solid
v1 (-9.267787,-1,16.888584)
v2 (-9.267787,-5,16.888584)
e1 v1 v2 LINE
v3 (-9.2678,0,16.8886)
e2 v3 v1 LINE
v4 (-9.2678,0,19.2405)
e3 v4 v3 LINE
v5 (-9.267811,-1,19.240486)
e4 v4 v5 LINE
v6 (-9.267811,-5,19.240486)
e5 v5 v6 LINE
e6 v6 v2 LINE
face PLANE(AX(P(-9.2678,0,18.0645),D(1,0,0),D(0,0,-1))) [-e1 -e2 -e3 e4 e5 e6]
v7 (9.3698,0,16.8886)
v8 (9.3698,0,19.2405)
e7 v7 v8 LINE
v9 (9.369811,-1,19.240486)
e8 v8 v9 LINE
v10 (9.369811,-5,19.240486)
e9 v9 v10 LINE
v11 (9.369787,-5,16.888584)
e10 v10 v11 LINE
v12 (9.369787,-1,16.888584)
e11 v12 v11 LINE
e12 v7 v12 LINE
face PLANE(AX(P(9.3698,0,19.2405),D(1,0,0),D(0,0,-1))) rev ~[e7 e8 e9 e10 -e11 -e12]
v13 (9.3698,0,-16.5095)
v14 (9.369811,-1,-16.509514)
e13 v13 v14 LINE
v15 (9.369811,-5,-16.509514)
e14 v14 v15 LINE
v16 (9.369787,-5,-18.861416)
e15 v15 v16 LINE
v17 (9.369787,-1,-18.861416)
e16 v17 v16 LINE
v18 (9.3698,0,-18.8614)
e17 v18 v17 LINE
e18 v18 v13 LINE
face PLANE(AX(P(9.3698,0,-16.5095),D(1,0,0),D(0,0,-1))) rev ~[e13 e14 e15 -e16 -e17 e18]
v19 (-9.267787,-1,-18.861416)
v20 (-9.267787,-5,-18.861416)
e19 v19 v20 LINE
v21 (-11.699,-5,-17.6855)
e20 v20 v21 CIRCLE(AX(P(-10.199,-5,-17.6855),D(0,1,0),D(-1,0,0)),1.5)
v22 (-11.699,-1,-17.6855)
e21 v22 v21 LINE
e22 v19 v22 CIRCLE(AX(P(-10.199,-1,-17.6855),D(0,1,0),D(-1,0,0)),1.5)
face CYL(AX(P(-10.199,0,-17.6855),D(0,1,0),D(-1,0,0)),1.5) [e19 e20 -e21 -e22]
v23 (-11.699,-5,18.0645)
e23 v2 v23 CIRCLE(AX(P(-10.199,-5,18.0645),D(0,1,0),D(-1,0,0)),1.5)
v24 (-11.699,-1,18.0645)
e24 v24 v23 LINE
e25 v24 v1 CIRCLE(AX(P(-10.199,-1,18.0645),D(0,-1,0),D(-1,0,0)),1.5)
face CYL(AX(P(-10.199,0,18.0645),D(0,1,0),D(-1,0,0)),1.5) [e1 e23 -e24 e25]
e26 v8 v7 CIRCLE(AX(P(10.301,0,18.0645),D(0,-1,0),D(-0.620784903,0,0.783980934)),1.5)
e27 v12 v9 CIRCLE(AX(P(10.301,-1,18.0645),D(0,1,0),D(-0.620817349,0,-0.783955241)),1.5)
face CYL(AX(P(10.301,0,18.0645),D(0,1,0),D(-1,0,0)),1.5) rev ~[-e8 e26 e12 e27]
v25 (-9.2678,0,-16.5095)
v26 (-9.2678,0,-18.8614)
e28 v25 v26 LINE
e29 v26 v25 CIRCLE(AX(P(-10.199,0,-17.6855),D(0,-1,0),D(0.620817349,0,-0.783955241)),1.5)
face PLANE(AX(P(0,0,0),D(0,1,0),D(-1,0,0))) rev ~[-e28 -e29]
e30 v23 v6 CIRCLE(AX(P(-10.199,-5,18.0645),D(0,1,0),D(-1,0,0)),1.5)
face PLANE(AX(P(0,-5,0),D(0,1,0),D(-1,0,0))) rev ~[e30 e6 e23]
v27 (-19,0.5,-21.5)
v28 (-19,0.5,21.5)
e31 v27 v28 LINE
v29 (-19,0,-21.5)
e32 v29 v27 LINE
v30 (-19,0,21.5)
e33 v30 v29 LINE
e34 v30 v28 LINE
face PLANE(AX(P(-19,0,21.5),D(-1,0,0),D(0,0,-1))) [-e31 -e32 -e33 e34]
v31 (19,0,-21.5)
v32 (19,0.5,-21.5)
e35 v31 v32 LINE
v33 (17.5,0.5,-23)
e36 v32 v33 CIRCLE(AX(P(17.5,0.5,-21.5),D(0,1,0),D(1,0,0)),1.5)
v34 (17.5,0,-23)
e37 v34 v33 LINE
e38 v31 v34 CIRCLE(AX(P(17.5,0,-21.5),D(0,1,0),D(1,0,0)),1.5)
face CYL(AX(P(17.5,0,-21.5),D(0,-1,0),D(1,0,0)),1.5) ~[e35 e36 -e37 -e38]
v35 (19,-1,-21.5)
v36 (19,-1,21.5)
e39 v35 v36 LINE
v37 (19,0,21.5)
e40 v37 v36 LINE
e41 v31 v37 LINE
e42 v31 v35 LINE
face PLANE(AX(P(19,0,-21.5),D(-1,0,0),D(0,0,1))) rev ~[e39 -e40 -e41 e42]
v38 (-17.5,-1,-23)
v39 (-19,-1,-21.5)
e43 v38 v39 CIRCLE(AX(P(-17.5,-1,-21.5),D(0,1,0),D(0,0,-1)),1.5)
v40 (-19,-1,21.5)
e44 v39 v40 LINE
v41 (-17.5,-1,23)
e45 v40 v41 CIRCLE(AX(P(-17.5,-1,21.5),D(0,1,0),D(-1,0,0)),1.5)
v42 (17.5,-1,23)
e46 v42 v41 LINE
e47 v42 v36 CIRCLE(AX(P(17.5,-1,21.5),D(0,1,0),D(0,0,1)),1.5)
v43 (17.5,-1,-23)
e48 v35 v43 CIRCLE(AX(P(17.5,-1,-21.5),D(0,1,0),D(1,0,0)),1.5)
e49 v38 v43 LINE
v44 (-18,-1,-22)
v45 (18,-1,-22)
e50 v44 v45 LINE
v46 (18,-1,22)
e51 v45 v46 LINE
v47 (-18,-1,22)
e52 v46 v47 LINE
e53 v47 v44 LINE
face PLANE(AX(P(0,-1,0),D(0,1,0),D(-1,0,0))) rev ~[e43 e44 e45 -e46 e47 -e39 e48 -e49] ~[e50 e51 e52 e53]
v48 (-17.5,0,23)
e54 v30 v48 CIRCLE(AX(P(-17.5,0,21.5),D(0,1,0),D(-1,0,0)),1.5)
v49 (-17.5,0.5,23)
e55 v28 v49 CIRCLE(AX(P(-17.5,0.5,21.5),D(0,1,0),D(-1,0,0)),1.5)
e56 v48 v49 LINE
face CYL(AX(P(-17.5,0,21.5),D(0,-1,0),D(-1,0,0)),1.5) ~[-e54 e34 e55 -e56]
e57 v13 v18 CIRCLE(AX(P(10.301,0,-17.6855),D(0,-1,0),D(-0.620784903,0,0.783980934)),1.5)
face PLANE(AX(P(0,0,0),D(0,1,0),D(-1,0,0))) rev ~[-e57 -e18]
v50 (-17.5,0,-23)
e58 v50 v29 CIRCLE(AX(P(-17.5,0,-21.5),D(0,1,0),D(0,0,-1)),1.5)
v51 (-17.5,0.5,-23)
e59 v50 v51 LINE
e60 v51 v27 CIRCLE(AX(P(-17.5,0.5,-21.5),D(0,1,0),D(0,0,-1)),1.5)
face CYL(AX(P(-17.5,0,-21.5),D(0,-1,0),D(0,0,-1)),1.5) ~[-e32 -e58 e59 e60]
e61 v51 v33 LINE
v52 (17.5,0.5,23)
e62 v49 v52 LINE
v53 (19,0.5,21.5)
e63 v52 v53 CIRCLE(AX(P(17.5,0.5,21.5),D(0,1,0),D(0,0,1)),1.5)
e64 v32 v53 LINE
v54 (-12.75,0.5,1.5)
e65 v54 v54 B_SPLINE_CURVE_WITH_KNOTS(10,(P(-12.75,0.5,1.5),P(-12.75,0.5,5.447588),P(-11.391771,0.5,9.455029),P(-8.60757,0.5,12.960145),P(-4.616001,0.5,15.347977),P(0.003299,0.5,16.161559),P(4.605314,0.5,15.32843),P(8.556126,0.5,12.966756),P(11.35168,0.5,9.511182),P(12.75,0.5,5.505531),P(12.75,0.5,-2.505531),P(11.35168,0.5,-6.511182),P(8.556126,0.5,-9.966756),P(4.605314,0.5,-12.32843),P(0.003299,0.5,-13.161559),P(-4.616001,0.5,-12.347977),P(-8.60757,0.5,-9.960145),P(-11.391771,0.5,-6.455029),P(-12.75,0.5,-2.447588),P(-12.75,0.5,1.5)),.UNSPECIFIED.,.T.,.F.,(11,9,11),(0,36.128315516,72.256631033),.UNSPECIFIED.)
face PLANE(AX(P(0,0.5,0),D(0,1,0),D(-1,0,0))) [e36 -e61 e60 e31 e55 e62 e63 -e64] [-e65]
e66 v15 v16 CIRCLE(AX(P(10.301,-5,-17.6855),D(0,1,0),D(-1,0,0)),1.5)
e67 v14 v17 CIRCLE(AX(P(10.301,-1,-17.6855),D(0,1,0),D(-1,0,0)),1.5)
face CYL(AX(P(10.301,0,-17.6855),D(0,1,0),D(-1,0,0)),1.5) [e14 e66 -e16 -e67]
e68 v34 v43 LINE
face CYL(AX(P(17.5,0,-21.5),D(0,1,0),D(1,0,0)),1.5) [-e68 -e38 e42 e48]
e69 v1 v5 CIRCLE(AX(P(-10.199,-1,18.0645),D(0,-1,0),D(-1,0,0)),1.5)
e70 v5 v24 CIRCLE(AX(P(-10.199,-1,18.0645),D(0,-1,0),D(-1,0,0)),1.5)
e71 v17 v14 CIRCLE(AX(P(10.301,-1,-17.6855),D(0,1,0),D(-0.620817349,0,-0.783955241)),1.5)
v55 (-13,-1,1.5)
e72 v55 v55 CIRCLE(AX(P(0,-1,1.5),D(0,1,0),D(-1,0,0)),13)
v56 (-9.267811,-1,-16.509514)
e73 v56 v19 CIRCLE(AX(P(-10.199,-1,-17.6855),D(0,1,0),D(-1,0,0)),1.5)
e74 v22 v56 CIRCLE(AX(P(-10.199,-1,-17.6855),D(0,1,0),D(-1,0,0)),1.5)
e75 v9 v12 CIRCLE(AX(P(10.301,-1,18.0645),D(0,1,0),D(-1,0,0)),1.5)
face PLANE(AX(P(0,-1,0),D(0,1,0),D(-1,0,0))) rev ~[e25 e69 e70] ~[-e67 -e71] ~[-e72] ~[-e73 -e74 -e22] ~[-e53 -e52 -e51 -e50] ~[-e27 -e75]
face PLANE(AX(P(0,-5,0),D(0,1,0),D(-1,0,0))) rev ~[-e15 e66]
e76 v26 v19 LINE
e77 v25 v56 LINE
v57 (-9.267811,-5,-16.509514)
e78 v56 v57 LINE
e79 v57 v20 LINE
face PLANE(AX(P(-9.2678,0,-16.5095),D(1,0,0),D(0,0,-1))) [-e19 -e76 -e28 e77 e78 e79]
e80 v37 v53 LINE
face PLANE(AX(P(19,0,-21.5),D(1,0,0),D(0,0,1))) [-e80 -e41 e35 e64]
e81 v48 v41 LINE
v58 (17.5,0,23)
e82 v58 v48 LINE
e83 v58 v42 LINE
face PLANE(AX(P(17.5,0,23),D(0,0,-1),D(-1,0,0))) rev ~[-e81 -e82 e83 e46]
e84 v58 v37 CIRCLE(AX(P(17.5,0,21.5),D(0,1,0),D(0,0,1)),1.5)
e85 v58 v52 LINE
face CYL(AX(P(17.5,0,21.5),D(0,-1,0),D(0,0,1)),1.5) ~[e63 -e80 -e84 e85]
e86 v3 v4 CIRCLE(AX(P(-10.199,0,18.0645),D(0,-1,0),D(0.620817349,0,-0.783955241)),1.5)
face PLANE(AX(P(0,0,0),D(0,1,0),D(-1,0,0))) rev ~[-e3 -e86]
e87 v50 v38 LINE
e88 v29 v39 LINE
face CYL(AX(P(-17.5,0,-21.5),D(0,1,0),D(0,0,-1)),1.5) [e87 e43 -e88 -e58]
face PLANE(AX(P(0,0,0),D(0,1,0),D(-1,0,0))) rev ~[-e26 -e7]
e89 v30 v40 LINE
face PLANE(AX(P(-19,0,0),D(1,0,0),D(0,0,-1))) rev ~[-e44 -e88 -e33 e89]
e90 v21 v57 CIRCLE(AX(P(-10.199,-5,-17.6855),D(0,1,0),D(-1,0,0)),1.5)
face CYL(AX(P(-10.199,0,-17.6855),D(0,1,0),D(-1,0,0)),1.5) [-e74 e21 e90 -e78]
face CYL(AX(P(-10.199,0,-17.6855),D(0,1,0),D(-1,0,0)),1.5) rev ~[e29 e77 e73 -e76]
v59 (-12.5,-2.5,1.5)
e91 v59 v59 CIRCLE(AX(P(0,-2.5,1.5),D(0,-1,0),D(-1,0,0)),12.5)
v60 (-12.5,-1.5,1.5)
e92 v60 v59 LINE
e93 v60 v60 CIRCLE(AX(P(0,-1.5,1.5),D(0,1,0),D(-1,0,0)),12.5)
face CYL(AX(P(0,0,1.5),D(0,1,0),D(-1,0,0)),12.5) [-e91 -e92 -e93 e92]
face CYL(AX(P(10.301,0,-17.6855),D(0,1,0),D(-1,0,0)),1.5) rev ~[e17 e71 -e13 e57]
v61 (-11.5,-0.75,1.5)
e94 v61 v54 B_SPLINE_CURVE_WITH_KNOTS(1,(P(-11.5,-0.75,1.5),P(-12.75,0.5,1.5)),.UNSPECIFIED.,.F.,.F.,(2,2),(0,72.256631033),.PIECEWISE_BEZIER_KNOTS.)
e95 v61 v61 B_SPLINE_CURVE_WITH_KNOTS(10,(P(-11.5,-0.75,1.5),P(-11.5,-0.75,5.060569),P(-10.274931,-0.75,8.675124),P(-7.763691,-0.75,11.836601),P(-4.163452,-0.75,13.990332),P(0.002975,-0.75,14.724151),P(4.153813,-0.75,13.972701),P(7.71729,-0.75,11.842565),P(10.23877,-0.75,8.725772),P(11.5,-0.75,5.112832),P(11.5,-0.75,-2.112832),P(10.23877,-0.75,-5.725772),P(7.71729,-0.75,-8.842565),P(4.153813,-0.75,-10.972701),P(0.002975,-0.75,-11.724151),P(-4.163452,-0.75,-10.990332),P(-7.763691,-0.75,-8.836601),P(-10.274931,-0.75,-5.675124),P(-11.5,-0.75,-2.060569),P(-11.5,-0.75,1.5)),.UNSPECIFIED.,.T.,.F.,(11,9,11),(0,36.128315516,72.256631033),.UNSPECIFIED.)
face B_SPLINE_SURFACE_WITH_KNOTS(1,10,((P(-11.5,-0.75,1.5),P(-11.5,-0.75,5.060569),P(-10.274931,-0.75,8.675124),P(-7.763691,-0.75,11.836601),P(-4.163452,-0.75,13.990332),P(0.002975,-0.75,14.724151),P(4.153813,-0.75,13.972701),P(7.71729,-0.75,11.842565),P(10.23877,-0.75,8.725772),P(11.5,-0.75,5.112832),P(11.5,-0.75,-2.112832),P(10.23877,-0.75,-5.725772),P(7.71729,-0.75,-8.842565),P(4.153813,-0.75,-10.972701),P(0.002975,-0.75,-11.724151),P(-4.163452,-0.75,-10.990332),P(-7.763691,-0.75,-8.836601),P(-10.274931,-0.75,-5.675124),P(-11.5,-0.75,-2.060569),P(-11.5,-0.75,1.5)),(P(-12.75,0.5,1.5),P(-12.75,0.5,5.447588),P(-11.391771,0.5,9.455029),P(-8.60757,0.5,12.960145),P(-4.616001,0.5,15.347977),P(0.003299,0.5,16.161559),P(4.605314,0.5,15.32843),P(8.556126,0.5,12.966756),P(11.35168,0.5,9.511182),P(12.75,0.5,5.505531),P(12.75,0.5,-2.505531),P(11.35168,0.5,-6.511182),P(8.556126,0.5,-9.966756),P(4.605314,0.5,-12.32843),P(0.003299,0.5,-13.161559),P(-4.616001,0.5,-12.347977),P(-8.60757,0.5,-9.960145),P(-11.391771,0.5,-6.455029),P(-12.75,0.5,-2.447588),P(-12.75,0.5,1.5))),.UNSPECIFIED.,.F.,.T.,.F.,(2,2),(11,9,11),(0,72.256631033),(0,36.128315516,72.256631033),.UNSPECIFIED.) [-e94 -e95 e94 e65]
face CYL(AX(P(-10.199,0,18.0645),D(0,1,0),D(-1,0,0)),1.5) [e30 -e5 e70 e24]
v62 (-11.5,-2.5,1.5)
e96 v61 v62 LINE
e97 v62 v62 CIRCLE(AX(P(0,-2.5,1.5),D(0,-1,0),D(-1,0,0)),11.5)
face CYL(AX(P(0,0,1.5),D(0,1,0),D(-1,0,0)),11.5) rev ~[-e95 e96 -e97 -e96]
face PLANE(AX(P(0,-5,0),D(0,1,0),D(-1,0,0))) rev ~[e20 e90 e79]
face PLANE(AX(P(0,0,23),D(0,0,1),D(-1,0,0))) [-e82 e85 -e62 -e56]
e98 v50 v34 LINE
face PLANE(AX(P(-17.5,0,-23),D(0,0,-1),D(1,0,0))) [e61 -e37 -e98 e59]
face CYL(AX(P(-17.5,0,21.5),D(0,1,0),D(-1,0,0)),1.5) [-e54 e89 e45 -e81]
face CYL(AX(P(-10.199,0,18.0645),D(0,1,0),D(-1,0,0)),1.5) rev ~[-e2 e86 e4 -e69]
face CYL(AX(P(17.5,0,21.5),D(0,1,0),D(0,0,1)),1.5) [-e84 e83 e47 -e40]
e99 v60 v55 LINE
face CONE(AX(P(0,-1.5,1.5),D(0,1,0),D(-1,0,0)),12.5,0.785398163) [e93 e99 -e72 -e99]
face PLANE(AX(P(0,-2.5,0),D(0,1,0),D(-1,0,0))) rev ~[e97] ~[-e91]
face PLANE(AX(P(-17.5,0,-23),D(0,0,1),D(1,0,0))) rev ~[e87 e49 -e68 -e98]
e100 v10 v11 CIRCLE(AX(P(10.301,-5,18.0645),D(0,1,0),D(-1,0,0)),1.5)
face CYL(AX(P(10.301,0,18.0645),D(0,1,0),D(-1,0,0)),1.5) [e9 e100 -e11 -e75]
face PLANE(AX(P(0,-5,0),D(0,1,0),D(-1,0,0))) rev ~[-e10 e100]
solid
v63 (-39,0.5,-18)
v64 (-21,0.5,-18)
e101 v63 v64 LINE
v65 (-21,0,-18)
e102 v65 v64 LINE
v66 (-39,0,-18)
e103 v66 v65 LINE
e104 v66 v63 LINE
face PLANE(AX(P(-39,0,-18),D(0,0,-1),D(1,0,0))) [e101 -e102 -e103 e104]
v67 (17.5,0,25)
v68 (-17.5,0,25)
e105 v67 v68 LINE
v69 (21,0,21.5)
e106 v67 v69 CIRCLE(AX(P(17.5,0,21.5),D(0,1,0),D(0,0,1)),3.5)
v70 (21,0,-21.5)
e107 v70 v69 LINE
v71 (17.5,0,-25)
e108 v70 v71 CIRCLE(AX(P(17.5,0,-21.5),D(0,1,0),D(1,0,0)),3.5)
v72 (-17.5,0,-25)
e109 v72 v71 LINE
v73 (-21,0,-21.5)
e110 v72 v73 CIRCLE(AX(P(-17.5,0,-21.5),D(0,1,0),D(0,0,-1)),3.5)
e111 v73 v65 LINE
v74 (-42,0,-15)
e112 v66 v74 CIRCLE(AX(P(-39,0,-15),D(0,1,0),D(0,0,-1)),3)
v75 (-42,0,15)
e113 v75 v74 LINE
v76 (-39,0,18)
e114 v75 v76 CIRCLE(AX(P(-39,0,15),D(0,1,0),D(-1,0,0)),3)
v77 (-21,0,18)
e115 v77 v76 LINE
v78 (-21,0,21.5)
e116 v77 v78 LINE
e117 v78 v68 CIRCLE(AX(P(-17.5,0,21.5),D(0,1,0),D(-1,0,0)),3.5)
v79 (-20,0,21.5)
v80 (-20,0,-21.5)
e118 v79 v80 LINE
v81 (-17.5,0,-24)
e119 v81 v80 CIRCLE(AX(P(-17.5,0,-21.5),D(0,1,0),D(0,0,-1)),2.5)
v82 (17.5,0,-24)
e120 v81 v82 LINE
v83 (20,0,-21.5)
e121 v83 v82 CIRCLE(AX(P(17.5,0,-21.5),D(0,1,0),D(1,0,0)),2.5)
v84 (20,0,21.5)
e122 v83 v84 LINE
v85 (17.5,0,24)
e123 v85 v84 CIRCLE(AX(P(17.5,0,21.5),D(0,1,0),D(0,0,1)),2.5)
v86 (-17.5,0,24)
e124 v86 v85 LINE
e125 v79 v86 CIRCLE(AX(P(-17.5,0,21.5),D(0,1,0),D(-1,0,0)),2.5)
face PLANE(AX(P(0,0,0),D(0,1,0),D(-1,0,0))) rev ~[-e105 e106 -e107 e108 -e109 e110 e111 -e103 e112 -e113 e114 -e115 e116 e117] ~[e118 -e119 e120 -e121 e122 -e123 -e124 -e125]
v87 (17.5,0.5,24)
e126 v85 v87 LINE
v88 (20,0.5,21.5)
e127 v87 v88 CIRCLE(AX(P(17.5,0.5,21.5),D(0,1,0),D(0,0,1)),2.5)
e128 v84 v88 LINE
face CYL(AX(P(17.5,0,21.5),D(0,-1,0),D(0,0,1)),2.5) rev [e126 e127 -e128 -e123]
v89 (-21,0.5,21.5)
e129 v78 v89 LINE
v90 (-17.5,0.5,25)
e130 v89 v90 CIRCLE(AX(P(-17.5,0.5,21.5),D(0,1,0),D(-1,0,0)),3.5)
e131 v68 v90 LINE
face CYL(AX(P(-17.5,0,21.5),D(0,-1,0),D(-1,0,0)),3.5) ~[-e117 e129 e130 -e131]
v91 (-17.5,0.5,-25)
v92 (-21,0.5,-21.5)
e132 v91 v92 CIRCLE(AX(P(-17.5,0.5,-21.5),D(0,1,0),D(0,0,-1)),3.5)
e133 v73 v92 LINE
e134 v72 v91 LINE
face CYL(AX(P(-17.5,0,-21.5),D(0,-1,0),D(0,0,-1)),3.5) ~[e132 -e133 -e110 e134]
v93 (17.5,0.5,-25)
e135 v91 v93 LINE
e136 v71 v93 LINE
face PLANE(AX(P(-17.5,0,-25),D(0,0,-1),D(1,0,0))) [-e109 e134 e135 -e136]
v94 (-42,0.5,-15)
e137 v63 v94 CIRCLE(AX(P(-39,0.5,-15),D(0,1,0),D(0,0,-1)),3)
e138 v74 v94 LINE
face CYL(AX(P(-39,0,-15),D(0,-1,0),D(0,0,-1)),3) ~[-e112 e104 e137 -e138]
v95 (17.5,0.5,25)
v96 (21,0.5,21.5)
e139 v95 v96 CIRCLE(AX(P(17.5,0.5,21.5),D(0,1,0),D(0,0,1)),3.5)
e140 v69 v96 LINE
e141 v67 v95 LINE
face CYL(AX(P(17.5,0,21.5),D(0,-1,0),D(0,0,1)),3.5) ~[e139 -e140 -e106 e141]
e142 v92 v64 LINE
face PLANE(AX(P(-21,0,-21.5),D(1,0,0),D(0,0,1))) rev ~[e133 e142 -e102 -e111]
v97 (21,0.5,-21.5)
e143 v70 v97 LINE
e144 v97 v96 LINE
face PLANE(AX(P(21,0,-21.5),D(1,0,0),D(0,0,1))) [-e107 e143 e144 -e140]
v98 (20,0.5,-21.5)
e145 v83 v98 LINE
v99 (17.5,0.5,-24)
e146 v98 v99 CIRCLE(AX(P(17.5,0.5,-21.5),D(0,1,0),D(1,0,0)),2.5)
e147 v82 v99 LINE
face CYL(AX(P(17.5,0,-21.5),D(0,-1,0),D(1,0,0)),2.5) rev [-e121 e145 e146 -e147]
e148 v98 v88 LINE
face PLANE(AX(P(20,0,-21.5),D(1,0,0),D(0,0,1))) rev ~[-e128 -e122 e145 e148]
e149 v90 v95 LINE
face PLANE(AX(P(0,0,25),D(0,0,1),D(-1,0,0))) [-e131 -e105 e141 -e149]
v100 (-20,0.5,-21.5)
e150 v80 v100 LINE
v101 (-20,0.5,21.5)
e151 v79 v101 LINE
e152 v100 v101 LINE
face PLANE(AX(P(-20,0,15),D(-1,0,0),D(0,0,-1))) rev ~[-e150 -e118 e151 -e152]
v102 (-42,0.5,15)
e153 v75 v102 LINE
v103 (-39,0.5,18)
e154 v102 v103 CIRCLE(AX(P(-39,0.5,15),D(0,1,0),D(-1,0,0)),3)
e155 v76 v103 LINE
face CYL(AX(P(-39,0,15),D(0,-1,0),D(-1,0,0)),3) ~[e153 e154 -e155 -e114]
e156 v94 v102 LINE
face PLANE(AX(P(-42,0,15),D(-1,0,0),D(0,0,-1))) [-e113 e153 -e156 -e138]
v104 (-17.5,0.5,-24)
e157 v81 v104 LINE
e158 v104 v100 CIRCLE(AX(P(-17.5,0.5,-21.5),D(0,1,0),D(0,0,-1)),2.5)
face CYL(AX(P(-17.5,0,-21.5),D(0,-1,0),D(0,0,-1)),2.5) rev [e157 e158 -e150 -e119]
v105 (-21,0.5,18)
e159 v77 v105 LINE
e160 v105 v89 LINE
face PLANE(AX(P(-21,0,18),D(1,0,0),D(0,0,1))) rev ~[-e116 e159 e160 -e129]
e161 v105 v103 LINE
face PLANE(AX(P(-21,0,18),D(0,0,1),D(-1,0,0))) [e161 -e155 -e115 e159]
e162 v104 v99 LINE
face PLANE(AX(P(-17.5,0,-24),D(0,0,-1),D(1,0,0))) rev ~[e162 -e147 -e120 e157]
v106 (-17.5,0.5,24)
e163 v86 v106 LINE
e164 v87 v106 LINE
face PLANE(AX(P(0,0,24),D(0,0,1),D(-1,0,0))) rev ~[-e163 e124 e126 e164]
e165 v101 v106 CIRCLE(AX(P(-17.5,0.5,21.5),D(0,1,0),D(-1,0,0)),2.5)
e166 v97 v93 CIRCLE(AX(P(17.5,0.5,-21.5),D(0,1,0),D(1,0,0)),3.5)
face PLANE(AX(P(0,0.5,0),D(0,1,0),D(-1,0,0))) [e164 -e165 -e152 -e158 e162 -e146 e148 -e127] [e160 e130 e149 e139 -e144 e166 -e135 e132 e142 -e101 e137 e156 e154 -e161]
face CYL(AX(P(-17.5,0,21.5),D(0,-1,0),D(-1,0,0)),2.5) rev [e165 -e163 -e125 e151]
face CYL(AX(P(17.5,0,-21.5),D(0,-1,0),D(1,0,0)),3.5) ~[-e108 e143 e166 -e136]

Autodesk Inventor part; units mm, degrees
ref_plane "YZ Plane" through (0, 0, 0) normal (1, 0, 0) x (0, 1, 0)
ref_plane "XZ Plane" through (0, 0, 0) normal (0, 1, 0) x (-1, 0, 0)
ref_plane "XY Plane" through (0, 0, 0) normal (0, 0, 1) x (1, 0, 0)
sketch "Sketch1" plane through (0, 0, 0) normal (0, 1, 0) x (-1, 0, 0)
  circle A0 centre (0, 1.5) radius 11.5
  circle A1 centre (0, 1.5) radius 12.5
  line L0 (19.0144, -21.3297) -> (-18.8688, -21.3297) construction
  line L1 (-18.8688, -21.3297) -> (-18.8688, 21.6448) construction
  line L2 (-18.8688, 21.6448) -> (19.0144, 21.6448) construction
  line L3 (19.0144, 21.6448) -> (19.0144, -21.3297) construction
  line L4 (-2.25, -4) -> (-2.25, -8.7)
  line L5 (-2.25, -8.7) -> (2.25, -8.7)
  line L6 (2.25, -8.7) -> (2.25, -4)
  line L7 (2.25, -4) -> (-2.25, -4)
  line L8 (5.9381, 2.2148) -> (9.8353, 4.4648)
  line L9 (9.8353, 4.4648) -> (7.4853, 8.5352)
  line L10 (7.4853, 8.5352) -> (3.5881, 6.2852)
  line L11 (5.9381, 2.2148) -> (3.5881, 6.2852)
  line L12 (-3.5881, 6.2852) -> (-7.4853, 8.5352)
  line L13 (-7.4853, 8.5352) -> (-9.8353, 4.4648)
  line L14 (-9.8353, 4.4648) -> (-5.9381, 2.2148)
  line L15 (-3.5881, 6.2852) -> (-5.9381, 2.2148)
  circle A2 centre (10.199, -17.6855) radius 1.5
  circle A3 centre (-10.301, 18.0645) radius 1.5
  circle A4 centre (10.199, 18.0645) radius 1.5
  circle A5 centre (-10.301, -17.6855) radius 1.5
  line L16 (10.199, -17.6855) -> (-10.301, -17.6855)
  line L17 (-10.301, -17.6855) -> (-10.301, 18.0645)
  line L18 (-10.301, 18.0645) -> (10.199, 18.0645)
  line L19 (10.199, 18.0645) -> (10.199, -17.6855)
  line L20 (18, -22) -> (-18, -22)
  line L21 (-18, -22) -> (-18, 22)
  line L22 (-18, 22) -> (18, 22)
  line L23 (18, 22) -> (18, -22)
  line L24 (18, -22) -> (-18, 22) construction
  line L25 (-18, -22) -> (18, 22) construction
  line L26 (0, 0) -> (20.5, 0)
  line L27 (0, 0) -> (0, 25)
  line L28 (17.5, -25) -> (-17.5, -25)
  line L29 (-21, -21.5) -> (-21, 21.5)
  line L30 (-17.5, 25) -> (17.5, 25)
  line L31 (21, -25) -> (-21, 25) construction
  line L32 (-21, -25) -> (21, 25) construction
  arc A6 (-17.5, 25) -> (-21, 21.5) centre (-17.5, 21.5) ccw
  arc A7 (-21, -21.5) -> (-17.5, -25) centre (-17.5, -21.5) ccw
  line L33 (17.5, -23) -> (-17.5, -23)
  line L34 (-19, -21.5) -> (-19, 21.5)
  line L35 (-17.5, 23) -> (17.5, 23)
  line L36 (19, 21.5) -> (19, -21.5)
  line L37 (19, -23) -> (-19, 23) construction
  line L38 (-19, -23) -> (19, 23) construction
  arc A8 (-17.5, 23) -> (-19, 21.5) centre (-17.5, 21.5) ccw
  arc A9 (-19, -21.5) -> (-17.5, -23) centre (-17.5, -21.5) ccw
  line L39 (9.2678, 19.2405) -> (9.2678, 16.8886)
  line L40 (9.2678, -16.5095) -> (9.2678, -18.8614)
  line L41 (-9.3698, 19.2405) -> (-9.3698, 16.8886)
  line L42 (-9.3698, -16.5095) -> (-9.3698, -18.8614)
  line L43 (17.5, -24) -> (-17.5, -24)
  line L44 (-20, -21.5) -> (-20, 21.5)
  line L45 (-17.5, 24) -> (17.5, 24)
  line L46 (20, -24) -> (-20, 24) construction
  line L47 (-20, -24) -> (20, 24) construction
  arc A10 (-17.5, 24) -> (-20, 21.5) centre (-17.5, 21.5) ccw
  arc A11 (-20, -21.5) -> (-17.5, -24) centre (-17.5, -21.5) ccw
  line L48 (21, -21.5) -> (21, 21.5)
  line L49 (20, 21.5) -> (20, -21.5)
  arc A12 (17.5, -24) -> (20, -21.5) centre (17.5, -21.5) ccw
  arc A13 (17.5, -25) -> (21, -21.5) centre (17.5, -21.5) ccw
  arc A14 (17.5, -23) -> (19, -21.5) centre (17.5, -21.5) ccw
  arc A15 (21, 21.5) -> (17.5, 25) centre (17.5, 21.5) ccw
  arc A16 (20, 21.5) -> (17.5, 24) centre (17.5, 21.5) ccw
  arc A17 (19, 21.5) -> (17.5, 23) centre (17.5, 21.5) ccw
  line L50 (19, 0) -> (39, 0)
  line L51 (39, 0) -> (39, -15)
  line L52 (39, -15) -> (19, -15)
  line L53 (19, -15) -> (19, 15)
  line L54 (19, 15) -> (39, 15)
  line L55 (39, 15) -> (39, -15)
  line L56 (39, 16) -> (19, 16)
  line L57 (19, 16) -> (19, -16)
  line L58 (39, 0) -> (42, 0)
  line L59 (39, 0) -> (40, 0)
  line L60 (40, 0) -> (40, -16)
  line L61 (39, -16) -> (19, -16)
  line L62 (19, -16) -> (19, 16)
  line L63 (40, 15) -> (40, -15)
  line L64 (40, 0) -> (41, 0)
  line L65 (41, 0) -> (41, -17)
  line L66 (39, -17) -> (20, -17)
  line L67 (20, -17) -> (20, 17)
  line L68 (20, 17) -> (39, 17)
  line L69 (41, 15) -> (41, -15)
  line L70 (41, 0) -> (42, 0)
  line L71 (42, 0) -> (42, -15)
  line L72 (39, -18) -> (21, -18)
  line L73 (21, -18) -> (21, 18)
  line L74 (21, 18) -> (39, 18)
  line L75 (42, 15) -> (42, -18)
  arc A18 (39, -16) -> (40, -15) centre (39, -15) ccw
  arc A19 (40, 15) -> (39, 16) centre (39, 15) ccw
  arc A20 (39, -17) -> (41, -15) centre (39, -15) ccw
  arc A21 (41, 15) -> (39, 17) centre (39, 15) ccw
  arc A22 (39, -18) -> (42, -15) centre (39, -15) ccw
  arc A23 (42, 15) -> (39, 18) centre (39, 15) ccw
  line L76 (19, -15) -> (21.5, -15)
  line L77 (21.5, -15) -> (21.5, 16)
  line L78 (21.5, 16) -> (19, 16)
  line L79 (19, 16) -> (19, -15)
  point P0 (21, -22)
  point P1 (21, 22)
  point P2 (19, 24)
  point P3 (19, -24)
  point P4 (40, 16)
  point P5 (42, 18)
  dimension "d33" = 4.7
  dimension "d34" = 4.5
  dimension "d36" = 4.5
  dimension "d37" = 4.7
  dimension "d38" = 3
  dimension "d46" = 3
  dimension "d47" = 3
  dimension "d48" = 3
  dimension "d159" = 36
  dimension "d165" = 42
  dimension "d166" = 50
  dimension "d192" = 40
  dimension "d193" = 48
  dimension "d210" = 46
  dimension "d211" = 1.5
  dimension "d212" = 2.5
  dimension "d214" = 2.5
  dimension "d215" = 3.5
  dimension "d216" = 3.5
  dimension "d217" = 44
  dimension "d244" = 1.5
  dimension "d245" = 2.5
  dimension "d246" = 3.5
  dimension "d247" = 1.5
  dimension "d248" = 3.5
  dimension "d249" = 2.5
  dimension "d250" = 1.5
  dimension "d251" = 38
  dimension "d261" = 20
  dimension "d262" = 15
  dimension "d264" = 30
  dimension "d304" = 1
  dimension "d305" = 16
  dimension "d306" = 21
  dimension "d307" = 1
  dimension "d308" = 17
  dimension "d310" = 34
  dimension "d311" = 1
  dimension "d312" = 18
  dimension "d313" = 21
  dimension "d314" = 36
  dimension "d315" = 1
  dimension "d316" = 2
  dimension "d317" = 3
  dimension "d318" = 2.5
extrude "Extrusion1" add sketch "Sketch1" against normal blind 2.5 contours A0 L19 A1 L26 | A0 L27 A1 L19 | L26 A1 L19 A0 | A0 L17 A1 L27 | L19 A1 L17 A0 | A0 L17 A1
extrude "Extrusion4" add sketch "Sketch1" against normal blind 5 contours L19 L18 L39 A4 | A4 L39 L18 L19 | A4 L18 L39 | L19 L16 L40 A2 | A2 L40 L16 L19 | L17 L18 L41 A3 | A3 L41 L18 L17 | L18 L41 A3 | A3 L41 L18 | A4 L39 L18 | L17 L16 L42 A5 | A5 L42 L16 L17 | L40 L16 A2 | A5 L16 L42 | L42 L16 A5 | A2 L16 L40
extrude "Extrusion11" add sketch "Sketch1" against normal blind 1 contours L19 A4 L18 L27 L22 L23 L26 A1 | A1 L27 L18 A4 L19 | L26 L23 L20 L21 L22 L27 L18 A3 L17 A1 A5 L16 A2 L19 | A1 L17 A3 L18 L27 | L19 A2 L16 A5 L17 A1
extrude "Extrusion13" add sketch "Sketch1" along normal blind 0.5 contours A0 L19 A1 L26 | A0 L27 A1 L19 | L26 A1 L19 A0 | A0 L17 A1 L27 | L19 A4 L18 L27 L22 L23 L26 A1 | A1 L27 L18 A4 L19 | L19 A1 L17 A0 | L26 L23 L20 L21 L22 L27 L18 A3 L17 A1 A5 L16 A2 L19 | A0 L17 A1 | A1 L17 A3 L18 L27 | L19 L18 L39 A4 | A4 L39 L18 L19 | L19 A2 L16 A5 L17 A1 | L26 L36 A14 L33 A9 L34 A8 L35 L27 L22 L21 L20 L23 | L23 L22 L27 L35 A17 L36 L26 | A4 L18 L39 | L19 L16 L40 A2 | A2 L40 L16 L19 | L17 L18 L41 A3 | A3 L41 L18 L17 | L18 L41 A3 | A3 L41 L18 | A4 L39 L18 | L17 L16 L42 A5 | A5 L42 L16 L17 | L40 L16 A2 | A5 L16 L42 | L42 L16 A5 | A2 L16 L40
extrude "Extrusion15" add sketch "Sketch1" against normal blind 1 contours L26 L36 A14 L33 A9 L34 A8 L35 L27 L22 L21 L20 L23 | L23 L22 L27 L35 A17 L36 L26
extrude "Extrusion16" cut sketch "Sketch1" against normal through all contours A4 L18 L39 | L18 L41 A3 | A3 L41 L18 | A4 L39 L18 | L40 L16 A2 | A5 L16 L42 | L42 L16 A5 | A2 L16 L40
chamfer "Chamfer2" distance 1.25 angle 45 1 edges at (11.5, 0.5, 1.5)
chamfer "Chamfer3" distance 0.5 angle 45 1 edges at (12.5, -1, 1.5)
extrude "Extrusion22" add sketch "Sketch1" along normal blind 0.5 contours L49 L54 L48 L50 L26 | L26 L50 L48 L52 L49 | L49 L56 L48 L54 | L52 L48 L61 L49 | L45 A10 L44 A11 L43 A12 L49 L66 L48 A13 L28 A7 L29 A6 L30 L27 | L27 L30 A15 L48 L68 L49 A16 L45 | L50 L77 L52 L48 | L48 L54 L77 L50 | L49 L68 L48 L56 | L48 L56 L77 L54 | L61 L48 L66 L49 | L52 L51 L58 L60 A18 L61 L48 | L77 L54 L55 L50 | L50 L51 L52 L77 | L48 L68 A21 L69 L58 L63 A19 L56 | L77 L56 A19 L63 L58 L55 L54 | L61 A18 L60 L58 L65 A20 L66 L48 | L48 L74 A23 L75 L58 L69 A21 L68 | L66 A20 L65 L58 L71 A22 L72 L48
properties part number "Spectral_Case_2"
